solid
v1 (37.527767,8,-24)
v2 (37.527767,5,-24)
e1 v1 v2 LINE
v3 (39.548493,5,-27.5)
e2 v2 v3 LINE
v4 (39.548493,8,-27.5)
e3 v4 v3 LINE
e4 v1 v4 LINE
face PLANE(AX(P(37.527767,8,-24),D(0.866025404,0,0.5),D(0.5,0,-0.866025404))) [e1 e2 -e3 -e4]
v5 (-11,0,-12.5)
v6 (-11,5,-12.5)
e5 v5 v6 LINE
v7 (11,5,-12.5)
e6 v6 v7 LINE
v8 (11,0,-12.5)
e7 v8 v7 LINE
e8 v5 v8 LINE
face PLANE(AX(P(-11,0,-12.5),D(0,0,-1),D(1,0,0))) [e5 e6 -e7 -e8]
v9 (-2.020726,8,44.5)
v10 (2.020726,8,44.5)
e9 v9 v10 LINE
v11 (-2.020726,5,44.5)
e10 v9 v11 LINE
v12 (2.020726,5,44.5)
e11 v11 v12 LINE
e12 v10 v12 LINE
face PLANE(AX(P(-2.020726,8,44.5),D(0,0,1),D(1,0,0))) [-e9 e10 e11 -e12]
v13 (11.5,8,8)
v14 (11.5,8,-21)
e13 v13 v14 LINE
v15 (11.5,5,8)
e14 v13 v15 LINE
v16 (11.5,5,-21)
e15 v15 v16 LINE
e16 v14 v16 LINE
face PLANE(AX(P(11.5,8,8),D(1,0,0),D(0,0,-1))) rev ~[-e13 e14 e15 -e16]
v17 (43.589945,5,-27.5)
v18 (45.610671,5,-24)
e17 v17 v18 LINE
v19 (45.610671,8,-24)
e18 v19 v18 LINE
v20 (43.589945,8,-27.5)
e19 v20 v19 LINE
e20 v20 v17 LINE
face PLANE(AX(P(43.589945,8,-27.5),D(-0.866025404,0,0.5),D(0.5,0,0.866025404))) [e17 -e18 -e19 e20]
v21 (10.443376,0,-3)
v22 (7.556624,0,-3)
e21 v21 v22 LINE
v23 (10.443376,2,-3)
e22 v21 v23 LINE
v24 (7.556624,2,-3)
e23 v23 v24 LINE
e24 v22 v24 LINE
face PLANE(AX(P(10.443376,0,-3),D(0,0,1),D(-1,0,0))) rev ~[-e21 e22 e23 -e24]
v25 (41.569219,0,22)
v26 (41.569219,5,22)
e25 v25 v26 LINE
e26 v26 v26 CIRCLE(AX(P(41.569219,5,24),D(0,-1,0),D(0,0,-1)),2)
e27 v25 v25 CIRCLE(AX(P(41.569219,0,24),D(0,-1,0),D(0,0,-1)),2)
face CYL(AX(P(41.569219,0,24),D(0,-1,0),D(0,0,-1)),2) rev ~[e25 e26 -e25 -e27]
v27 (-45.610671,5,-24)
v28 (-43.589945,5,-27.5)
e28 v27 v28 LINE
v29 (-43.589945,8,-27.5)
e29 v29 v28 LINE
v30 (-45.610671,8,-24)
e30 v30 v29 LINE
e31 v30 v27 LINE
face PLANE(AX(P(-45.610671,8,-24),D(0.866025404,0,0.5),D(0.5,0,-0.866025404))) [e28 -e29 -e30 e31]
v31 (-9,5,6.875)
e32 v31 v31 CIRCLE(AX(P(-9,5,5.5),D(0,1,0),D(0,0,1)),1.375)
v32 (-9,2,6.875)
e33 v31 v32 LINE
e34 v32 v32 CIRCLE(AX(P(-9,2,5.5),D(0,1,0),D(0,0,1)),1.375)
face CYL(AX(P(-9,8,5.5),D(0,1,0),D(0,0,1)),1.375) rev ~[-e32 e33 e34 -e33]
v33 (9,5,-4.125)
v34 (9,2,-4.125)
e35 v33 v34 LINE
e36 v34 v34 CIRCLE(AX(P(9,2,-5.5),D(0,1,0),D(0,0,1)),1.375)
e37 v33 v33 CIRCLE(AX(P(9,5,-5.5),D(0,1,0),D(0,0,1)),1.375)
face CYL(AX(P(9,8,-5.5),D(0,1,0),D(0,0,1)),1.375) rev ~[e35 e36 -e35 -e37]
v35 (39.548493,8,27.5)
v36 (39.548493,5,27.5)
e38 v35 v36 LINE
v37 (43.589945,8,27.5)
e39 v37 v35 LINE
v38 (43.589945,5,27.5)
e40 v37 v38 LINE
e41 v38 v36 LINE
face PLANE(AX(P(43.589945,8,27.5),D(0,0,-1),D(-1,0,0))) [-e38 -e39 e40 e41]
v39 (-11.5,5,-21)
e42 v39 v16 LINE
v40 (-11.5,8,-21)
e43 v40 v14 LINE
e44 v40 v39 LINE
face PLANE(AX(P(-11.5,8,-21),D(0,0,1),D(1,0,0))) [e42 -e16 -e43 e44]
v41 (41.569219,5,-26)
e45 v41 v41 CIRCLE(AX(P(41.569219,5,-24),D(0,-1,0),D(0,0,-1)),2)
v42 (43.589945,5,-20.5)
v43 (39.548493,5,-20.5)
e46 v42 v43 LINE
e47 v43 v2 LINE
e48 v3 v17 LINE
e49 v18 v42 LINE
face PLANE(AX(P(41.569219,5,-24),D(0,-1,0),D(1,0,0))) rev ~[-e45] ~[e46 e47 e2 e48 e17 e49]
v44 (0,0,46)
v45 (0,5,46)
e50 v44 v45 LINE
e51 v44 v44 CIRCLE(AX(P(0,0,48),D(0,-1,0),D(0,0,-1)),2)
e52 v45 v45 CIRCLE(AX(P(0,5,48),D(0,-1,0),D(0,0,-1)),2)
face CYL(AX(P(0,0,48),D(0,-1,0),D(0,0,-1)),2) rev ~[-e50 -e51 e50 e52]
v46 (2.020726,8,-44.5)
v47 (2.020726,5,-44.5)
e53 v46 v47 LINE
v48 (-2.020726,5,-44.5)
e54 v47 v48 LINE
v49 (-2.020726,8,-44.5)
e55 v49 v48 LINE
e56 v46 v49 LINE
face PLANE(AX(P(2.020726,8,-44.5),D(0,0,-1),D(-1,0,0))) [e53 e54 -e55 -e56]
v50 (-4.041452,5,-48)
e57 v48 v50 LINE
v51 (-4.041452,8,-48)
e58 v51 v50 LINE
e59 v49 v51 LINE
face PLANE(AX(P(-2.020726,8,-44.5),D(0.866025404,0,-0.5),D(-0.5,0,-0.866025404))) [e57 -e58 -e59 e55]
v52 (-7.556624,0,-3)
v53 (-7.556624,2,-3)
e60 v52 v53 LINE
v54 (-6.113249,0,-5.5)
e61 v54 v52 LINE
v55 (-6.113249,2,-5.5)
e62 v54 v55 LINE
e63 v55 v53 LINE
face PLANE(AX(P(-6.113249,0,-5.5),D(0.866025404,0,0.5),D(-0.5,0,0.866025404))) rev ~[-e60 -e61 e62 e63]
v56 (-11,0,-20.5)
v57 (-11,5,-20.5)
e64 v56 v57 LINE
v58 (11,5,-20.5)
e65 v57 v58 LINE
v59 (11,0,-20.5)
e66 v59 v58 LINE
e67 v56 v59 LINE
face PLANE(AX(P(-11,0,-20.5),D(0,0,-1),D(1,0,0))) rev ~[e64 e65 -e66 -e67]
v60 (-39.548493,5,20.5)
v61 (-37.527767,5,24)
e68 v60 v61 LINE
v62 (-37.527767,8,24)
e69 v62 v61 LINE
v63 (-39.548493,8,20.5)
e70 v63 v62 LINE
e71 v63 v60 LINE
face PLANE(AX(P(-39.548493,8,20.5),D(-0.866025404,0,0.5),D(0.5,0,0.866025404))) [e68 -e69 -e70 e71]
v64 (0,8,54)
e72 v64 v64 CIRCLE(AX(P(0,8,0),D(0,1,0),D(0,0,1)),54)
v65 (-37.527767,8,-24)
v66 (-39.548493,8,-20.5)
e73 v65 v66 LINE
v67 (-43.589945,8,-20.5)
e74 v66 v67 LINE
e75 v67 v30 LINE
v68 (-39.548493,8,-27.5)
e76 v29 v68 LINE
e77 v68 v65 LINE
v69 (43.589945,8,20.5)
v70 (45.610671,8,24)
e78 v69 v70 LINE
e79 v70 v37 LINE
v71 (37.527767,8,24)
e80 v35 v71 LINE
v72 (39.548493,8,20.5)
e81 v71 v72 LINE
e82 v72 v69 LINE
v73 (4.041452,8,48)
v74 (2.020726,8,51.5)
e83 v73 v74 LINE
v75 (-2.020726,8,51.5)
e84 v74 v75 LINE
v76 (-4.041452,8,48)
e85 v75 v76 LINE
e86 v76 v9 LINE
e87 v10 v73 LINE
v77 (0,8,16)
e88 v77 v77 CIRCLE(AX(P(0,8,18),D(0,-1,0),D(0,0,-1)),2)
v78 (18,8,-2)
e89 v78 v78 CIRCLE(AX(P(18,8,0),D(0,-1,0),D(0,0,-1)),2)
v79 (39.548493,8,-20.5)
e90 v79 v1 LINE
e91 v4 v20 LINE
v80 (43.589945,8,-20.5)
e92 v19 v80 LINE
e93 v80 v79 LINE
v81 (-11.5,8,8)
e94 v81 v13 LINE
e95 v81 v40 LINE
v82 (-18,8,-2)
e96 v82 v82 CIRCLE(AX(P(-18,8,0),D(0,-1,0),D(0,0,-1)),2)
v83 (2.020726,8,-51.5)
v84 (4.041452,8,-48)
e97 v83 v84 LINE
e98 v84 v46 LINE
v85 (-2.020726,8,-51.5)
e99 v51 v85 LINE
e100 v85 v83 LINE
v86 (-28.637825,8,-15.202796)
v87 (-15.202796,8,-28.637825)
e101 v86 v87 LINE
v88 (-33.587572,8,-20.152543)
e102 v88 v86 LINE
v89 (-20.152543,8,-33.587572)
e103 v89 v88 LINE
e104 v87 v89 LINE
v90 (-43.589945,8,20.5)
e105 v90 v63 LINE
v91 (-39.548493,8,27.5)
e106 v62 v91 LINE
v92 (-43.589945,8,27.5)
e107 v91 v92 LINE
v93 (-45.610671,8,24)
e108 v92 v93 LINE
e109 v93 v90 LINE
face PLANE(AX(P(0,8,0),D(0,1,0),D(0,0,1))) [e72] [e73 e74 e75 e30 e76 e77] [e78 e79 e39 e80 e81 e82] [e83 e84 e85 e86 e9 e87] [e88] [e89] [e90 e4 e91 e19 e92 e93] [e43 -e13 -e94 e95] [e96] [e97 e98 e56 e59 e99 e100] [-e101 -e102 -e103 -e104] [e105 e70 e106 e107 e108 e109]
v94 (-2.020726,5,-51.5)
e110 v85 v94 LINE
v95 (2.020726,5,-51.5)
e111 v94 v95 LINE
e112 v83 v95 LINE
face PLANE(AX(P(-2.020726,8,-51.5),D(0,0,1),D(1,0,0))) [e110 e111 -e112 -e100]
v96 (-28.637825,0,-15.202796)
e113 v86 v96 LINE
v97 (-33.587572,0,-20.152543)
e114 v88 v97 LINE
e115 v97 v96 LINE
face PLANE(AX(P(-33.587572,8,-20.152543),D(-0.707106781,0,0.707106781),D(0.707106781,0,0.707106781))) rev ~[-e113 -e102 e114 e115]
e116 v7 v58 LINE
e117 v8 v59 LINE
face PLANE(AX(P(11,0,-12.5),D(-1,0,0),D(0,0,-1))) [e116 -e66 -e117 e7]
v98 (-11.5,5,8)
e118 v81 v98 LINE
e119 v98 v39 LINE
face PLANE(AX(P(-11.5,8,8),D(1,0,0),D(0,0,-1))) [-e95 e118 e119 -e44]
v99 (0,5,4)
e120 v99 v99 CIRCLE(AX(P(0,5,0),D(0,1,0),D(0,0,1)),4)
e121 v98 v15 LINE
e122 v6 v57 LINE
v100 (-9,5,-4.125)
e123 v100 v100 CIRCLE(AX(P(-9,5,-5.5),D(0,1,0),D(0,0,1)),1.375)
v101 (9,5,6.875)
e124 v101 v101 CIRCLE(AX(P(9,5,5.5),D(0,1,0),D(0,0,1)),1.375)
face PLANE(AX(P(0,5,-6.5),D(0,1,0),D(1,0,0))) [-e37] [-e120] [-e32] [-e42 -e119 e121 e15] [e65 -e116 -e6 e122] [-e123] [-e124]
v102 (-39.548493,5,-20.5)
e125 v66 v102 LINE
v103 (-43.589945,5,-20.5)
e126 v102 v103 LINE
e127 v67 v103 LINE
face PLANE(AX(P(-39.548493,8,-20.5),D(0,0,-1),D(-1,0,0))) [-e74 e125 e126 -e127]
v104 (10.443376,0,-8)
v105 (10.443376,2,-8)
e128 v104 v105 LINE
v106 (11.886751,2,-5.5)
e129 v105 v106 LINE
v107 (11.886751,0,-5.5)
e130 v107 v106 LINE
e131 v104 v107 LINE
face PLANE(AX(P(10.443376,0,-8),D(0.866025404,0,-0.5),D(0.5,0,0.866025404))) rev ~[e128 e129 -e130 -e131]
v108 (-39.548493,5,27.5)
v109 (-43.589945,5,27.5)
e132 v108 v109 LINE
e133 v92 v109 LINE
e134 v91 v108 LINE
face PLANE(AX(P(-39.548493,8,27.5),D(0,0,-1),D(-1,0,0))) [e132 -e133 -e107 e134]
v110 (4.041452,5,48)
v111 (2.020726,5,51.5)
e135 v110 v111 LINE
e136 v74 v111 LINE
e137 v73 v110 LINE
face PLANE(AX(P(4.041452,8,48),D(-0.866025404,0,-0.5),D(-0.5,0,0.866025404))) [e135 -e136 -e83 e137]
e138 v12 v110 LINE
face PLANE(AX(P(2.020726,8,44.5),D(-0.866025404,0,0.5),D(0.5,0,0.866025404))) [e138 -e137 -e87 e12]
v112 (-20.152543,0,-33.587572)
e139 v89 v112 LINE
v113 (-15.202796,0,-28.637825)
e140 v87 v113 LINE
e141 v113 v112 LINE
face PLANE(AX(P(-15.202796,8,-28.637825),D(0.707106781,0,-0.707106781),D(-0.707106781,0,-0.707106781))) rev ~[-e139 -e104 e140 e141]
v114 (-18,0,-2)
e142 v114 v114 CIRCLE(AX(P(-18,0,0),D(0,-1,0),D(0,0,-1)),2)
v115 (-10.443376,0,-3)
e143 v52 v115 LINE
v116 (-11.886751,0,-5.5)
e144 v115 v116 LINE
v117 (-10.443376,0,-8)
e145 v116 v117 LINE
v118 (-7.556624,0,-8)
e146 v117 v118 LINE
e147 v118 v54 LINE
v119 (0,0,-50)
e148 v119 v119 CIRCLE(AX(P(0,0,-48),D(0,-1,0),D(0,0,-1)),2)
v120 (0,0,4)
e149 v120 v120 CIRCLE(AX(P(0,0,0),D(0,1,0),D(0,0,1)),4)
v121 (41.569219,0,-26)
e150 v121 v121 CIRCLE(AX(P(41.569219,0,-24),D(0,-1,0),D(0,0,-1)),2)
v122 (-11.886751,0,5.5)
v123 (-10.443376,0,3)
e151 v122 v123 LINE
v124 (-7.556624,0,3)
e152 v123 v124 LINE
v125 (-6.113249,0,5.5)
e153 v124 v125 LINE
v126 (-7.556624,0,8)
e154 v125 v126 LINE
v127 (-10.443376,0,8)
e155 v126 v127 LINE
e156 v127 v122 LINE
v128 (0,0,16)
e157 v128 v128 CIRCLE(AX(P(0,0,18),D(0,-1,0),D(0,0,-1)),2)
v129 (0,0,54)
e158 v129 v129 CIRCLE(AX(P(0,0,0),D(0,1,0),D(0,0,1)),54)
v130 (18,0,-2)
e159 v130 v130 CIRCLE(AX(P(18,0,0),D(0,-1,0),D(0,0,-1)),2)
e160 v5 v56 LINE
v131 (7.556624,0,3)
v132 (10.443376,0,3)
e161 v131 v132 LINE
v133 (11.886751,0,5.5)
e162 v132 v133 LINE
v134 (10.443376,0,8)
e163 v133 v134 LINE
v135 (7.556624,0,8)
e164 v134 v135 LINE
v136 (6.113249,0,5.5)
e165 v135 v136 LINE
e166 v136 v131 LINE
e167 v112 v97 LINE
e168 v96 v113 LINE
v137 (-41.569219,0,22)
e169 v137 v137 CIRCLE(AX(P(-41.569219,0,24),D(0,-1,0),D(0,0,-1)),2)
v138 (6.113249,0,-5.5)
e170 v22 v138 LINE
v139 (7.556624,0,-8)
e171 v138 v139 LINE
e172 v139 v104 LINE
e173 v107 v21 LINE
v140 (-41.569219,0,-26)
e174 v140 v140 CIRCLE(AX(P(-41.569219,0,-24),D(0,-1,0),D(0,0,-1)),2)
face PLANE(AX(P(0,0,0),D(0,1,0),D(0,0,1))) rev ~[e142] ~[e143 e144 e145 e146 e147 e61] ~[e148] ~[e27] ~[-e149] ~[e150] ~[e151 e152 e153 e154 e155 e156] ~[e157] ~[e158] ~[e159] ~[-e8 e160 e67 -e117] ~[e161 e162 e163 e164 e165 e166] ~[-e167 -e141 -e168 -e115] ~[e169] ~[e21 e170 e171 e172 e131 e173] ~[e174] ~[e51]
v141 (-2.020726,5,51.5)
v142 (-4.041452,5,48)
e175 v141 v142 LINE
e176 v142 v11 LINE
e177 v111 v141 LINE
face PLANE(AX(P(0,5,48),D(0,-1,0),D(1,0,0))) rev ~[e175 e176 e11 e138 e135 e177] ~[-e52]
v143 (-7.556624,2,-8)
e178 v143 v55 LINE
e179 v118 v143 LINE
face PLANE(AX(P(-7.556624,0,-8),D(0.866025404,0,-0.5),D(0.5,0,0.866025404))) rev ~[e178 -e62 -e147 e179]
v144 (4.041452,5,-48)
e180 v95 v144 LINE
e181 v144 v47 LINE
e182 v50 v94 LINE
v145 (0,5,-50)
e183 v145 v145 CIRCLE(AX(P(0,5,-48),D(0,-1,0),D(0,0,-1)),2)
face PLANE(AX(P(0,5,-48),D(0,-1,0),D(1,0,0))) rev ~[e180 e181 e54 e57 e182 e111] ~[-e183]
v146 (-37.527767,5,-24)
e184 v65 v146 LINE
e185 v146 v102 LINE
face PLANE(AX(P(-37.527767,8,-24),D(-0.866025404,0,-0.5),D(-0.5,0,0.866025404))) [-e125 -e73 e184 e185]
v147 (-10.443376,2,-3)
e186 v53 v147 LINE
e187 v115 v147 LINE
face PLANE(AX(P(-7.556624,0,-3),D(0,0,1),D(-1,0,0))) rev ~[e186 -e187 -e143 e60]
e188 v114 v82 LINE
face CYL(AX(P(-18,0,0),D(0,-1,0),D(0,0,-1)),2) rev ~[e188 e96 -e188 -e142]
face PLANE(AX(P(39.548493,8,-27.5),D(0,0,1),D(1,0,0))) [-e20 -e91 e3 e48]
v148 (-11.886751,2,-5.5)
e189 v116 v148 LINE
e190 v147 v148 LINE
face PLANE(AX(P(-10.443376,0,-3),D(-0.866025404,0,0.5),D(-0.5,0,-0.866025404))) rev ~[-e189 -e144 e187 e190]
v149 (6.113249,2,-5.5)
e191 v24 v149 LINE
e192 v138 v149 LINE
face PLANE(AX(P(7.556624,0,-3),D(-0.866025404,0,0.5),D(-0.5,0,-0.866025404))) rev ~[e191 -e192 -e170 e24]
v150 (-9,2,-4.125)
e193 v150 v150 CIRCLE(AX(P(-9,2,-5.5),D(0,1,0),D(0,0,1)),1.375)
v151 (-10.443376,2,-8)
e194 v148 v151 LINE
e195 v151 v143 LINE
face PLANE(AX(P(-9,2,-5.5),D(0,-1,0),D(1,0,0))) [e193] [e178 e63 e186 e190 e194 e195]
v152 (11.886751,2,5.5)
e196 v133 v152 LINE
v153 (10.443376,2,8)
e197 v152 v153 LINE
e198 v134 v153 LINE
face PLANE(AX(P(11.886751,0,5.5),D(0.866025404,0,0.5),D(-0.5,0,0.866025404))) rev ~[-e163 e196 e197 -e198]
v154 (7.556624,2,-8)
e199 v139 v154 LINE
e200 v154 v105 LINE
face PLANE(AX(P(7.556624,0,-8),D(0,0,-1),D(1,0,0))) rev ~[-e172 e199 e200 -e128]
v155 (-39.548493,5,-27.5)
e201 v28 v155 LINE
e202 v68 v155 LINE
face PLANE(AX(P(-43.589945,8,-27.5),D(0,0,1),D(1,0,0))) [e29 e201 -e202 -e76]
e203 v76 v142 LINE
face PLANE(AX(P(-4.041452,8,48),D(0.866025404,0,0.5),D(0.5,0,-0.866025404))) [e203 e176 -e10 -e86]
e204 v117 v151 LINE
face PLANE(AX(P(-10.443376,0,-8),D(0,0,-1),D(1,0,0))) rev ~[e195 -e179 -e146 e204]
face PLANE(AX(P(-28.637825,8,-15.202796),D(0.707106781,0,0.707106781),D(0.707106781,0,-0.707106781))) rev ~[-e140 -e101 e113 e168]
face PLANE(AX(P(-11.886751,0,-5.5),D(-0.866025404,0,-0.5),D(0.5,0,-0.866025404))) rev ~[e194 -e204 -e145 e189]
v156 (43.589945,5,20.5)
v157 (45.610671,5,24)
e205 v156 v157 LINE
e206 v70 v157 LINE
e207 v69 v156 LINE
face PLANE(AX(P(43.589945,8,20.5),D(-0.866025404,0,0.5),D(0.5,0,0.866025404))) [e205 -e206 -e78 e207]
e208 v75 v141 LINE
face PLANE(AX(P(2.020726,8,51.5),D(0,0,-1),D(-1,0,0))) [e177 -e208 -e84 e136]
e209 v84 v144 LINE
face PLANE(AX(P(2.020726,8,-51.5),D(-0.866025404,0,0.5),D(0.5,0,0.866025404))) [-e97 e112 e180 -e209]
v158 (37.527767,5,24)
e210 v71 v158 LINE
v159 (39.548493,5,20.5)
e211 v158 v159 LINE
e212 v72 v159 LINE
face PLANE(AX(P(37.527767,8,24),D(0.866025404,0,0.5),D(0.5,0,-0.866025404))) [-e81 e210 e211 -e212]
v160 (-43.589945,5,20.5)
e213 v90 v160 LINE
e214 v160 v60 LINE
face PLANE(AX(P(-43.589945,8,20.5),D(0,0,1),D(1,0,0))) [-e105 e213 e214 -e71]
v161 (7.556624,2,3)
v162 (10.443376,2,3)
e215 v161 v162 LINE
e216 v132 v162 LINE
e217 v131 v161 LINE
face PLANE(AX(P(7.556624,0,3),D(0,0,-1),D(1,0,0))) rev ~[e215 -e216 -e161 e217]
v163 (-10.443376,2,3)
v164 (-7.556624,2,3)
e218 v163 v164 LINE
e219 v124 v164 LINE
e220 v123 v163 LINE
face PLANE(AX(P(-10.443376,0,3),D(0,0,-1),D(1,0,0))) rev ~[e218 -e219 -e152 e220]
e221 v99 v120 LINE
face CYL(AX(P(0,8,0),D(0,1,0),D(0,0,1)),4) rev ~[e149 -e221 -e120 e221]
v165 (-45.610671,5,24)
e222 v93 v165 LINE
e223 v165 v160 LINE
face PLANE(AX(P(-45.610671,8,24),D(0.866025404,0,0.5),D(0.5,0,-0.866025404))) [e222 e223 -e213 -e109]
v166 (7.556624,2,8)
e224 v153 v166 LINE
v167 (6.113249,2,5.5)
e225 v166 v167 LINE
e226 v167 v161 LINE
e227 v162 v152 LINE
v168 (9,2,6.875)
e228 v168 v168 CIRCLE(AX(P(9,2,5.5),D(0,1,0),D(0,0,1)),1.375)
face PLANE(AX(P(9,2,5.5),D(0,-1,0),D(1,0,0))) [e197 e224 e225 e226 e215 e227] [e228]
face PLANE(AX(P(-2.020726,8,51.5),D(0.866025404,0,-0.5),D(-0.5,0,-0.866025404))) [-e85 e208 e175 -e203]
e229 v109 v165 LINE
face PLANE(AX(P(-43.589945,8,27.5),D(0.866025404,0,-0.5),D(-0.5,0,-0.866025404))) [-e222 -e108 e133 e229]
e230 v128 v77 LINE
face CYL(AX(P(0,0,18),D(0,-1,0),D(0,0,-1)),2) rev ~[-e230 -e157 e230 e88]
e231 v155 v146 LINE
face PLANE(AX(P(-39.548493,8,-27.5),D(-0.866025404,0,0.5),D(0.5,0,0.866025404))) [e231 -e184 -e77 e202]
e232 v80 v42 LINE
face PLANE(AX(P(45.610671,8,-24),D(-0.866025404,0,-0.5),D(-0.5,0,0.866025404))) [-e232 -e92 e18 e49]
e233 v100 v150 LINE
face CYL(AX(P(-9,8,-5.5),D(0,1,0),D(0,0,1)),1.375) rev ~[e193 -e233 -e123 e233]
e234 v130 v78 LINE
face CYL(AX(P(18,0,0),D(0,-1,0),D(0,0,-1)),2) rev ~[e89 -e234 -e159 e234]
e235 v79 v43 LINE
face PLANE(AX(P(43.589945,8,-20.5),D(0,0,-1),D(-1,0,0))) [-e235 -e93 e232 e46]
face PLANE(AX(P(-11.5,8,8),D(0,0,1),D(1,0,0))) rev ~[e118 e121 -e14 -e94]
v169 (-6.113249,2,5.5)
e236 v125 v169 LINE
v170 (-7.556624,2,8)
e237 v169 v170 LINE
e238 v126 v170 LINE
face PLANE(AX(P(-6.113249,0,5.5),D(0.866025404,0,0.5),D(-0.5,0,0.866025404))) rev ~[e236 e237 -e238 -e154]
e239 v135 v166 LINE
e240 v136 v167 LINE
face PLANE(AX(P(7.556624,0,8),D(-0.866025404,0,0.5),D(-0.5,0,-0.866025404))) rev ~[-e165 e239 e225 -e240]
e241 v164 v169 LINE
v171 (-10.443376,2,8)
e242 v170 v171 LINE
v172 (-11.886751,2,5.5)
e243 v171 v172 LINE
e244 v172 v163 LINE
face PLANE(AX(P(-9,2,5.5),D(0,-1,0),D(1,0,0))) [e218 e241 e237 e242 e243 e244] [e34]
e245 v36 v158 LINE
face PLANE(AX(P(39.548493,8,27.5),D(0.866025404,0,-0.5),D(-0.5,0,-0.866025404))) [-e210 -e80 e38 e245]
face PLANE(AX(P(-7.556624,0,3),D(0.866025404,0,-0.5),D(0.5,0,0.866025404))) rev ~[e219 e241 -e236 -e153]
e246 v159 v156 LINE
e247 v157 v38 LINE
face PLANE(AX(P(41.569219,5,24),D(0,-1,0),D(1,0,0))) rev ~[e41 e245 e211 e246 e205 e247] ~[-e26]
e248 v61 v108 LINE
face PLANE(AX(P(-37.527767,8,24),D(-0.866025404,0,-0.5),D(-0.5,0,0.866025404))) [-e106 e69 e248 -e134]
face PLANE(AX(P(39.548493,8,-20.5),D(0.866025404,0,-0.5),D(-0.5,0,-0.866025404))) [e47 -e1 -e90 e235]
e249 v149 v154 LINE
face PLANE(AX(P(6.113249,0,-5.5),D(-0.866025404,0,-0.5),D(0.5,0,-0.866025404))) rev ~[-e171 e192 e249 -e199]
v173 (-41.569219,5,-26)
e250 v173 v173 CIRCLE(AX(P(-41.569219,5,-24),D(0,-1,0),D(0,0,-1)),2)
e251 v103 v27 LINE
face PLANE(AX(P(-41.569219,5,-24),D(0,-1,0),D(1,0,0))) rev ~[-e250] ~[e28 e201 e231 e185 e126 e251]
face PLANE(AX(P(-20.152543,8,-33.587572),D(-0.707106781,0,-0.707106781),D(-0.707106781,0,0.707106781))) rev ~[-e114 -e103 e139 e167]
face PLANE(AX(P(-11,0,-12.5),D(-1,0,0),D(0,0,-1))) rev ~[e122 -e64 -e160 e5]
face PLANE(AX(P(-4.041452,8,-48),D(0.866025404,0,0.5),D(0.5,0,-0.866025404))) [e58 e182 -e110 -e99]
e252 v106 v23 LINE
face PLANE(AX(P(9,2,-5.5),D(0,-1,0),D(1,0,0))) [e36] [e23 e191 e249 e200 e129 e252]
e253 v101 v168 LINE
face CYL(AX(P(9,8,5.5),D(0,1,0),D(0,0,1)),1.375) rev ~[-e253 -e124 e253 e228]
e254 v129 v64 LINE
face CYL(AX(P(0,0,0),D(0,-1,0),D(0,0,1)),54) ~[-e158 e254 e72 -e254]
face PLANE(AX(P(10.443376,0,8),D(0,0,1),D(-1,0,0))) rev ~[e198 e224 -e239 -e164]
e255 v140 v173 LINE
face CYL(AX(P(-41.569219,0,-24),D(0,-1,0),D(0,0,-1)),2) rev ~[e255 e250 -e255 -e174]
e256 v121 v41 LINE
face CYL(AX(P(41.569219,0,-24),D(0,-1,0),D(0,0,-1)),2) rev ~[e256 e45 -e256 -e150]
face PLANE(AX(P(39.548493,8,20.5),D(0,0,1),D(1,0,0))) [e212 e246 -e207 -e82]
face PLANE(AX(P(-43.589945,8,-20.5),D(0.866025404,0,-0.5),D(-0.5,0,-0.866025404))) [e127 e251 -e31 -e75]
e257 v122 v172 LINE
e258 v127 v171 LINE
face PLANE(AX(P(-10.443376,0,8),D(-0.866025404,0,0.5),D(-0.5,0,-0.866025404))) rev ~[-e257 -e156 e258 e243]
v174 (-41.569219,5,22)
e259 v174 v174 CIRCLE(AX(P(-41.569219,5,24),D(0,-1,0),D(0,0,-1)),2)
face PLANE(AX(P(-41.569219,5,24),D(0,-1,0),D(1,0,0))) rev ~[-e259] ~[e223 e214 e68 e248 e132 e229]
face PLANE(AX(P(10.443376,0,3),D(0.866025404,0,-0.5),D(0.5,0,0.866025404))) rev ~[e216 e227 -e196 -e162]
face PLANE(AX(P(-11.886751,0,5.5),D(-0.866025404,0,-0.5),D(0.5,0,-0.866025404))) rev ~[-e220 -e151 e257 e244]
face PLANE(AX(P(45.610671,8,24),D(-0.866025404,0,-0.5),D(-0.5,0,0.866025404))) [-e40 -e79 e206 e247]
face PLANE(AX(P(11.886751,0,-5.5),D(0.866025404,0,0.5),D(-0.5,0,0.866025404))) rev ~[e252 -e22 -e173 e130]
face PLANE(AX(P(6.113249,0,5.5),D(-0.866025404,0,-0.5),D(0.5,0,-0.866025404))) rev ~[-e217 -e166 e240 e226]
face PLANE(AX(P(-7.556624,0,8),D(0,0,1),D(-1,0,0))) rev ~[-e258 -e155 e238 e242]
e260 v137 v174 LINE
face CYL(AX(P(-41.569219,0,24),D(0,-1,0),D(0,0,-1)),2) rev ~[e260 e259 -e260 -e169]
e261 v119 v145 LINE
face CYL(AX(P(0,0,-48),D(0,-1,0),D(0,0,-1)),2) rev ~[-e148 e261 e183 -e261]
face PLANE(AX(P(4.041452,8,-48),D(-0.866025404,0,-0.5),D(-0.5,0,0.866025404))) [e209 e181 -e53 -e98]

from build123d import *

# Parameters (mm, degrees)
SKETCH1_R                       = 54
BASE_PLATE_DEPTH                = 8
HOLE_PATTERN_R                  = 2
MOTOR_MOUNT_HOLES_DEPTH         = 77.785415282
SKETCH3_R                       = 1.375
SKETCH3_R_2                     = 4
ENCODER_MOUNTING_HOLES_DEPTH    = 77.785415282
SKETCH4_W                       = 22
SKETCH4_H                       = 8
ENCODER_WIRE_PASS_THROUGH_DEPTH = 5
MOTOR_WIRE_PASS_THROUGH_DEPTH   = 77.785415282
SKETCH6_W                       = 11.998985868
SKETCH6_H                       = 14
CUT_EXTRUDE6_DEPTH              = 2
CUT_EXTRUDE7_DEPTH              = 2
CUT_EXTRUDE8_DEPTH              = 3
SKETCH10_W                      = 23
SKETCH10_H                      = 29
CUT_EXTRUDE9_DEPTH              = 3


with BuildPart() as part:
    # Sketch1 → Base Plate (new body)
    with BuildSketch(Plane(origin=(0, 0, 0), x_dir=(1, 0, 0), z_dir=(0, 1, 0))):
        with Locations(Location((0, 0, 0), (0, 0, 270))):
            Circle(SKETCH1_R)
    extrude(amount=BASE_PLATE_DEPTH)

    # Hole Pattern → Motor Mount Holes (cut, through all)
    with BuildSketch(Plane.XZ):
        with Locations(Location((0, 48, 0), (0, 0, 270))):
            Circle(HOLE_PATTERN_R)
        with Locations(Location((41.569219382, 24, 0), (0, 0, 270))):
            Circle(HOLE_PATTERN_R)
        with Locations(Location((41.569219382, -24, 0), (0, 0, 270))):
            Circle(HOLE_PATTERN_R)
        with Locations(Location((0, -48, 0), (0, 0, 270))):
            Circle(HOLE_PATTERN_R)
        with Locations(Location((-41.569219382, -24, 0), (0, 0, 270))):
            Circle(HOLE_PATTERN_R)
        with Locations(Location((-41.569219382, 24, 0), (0, 0, 270))):
            Circle(HOLE_PATTERN_R)
        with Locations(Location((0, 18, 0), (0, 0, 270))):
            Circle(HOLE_PATTERN_R)
        with Locations(Location((18, 0, 0), (0, 0, 270))):
            Circle(HOLE_PATTERN_R)
        with Locations(Location((-18, 0, 0), (0, 0, 270))):
            Circle(HOLE_PATTERN_R)
    extrude(amount=-MOTOR_MOUNT_HOLES_DEPTH, mode=Mode.SUBTRACT)

    # Sketch3 → Encoder mounting holes (cut, through all)
    with BuildSketch(Plane(origin=(0, 8, 0), x_dir=(1, 0, 0), z_dir=(0, 1, 0))):
        with Locations(Location((-9, 5.5, 0), (0, 0, 270))):
            Circle(SKETCH3_R)
        with Locations(Location((9, 5.5, 0), (0, 0, 270))):
            Circle(SKETCH3_R)
        with Locations(Location((9, -5.5, 0), (0, 0, 270))):
            Circle(SKETCH3_R)
        with Locations(Location((-9, -5.5, 0), (0, 0, 270))):
            Circle(SKETCH3_R)
        with Locations(Location((0, 0, 0), (0, 0, 270))):
            Circle(SKETCH3_R_2)
    extrude(amount=-ENCODER_MOUNTING_HOLES_DEPTH, mode=Mode.SUBTRACT)

    # Sketch4 → Encoder Wire Pass through (cut)
    with BuildSketch(Plane(origin=(0, 0, 0), x_dir=(1, 0, 0), z_dir=(0, 1, 0))):
        with Locations((0, 16.5)):
            Rectangle(SKETCH4_W, SKETCH4_H)
    extrude(amount=ENCODER_WIRE_PASS_THROUGH_DEPTH, mode=Mode.SUBTRACT)

    # Sketch5 → Motor Wire pass through (cut, through all)
    with BuildSketch(Plane(origin=(0, 8, 0), x_dir=(1, 0, 0), z_dir=(0, 1, 0))):
        Polygon((-33.587572106, 20.152543264), (-28.637824638, 15.202795796), (-15.202795796, 28.637824638), (-20.152543264, 33.587572106), align=None)
    extrude(amount=-MOTOR_WIRE_PASS_THROUGH_DEPTH, mode=Mode.SUBTRACT)

    # Sketch6 → Cut-Extrude6 (cut)
    with BuildSketch(Plane(origin=(0, 8, 0), x_dir=(1, 0, 0), z_dir=(0, 1, 0))):
        with Locations((0, 12.5)):
            Rectangle(SKETCH6_W, SKETCH6_H)
    extrude(amount=-CUT_EXTRUDE6_DEPTH, mode=Mode.SUBTRACT)

    # Sketch7 → Cut-Extrude7 (cut)
    with BuildSketch(Plane.XZ):
        Polygon((7.556624327, 3), (10.443375673, 3), (11.886751346, 5.5), (10.443375673, 8), (7.556624327, 8), (6.113248654, 5.5), align=None)
        Polygon((10.443375673, -8), (11.886751346, -5.5), (10.443375673, -3), (7.556624327, -3), (6.113248654, -5.5), (7.556624327, -8), align=None)
        Polygon((-7.556624327, -8), (-6.113248654, -5.5), (-7.556624327, -3), (-10.443375673, -3), (-11.886751346, -5.5), (-10.443375673, -8), align=None)
        Polygon((-7.556624327, 3), (-6.113248654, 5.5), (-7.556624327, 8), (-10.443375673, 8), (-11.886751346, 5.5), (-10.443375673, 3), align=None)
    extrude(amount=-CUT_EXTRUDE7_DEPTH, mode=Mode.SUBTRACT)

    # Sketch9 → Cut-Extrude8 (cut)
    with BuildSketch(Plane.XZ.offset(-8)):
        Polygon((39.548493439, -27.5), (43.589945324, -27.5), (45.610671266, -24), (43.589945324, -20.5), (39.548493439, -20.5), (37.527767497, -24), align=None)
        Polygon((-4.041451884, -48), (-2.020725942, -51.5), (2.020725942, -51.5), (4.041451884, -48), (2.020725942, -44.5), (-2.020725942, -44.5), align=None)
        Polygon((43.589945324, 20.5), (45.610671266, 24), (43.589945324, 27.5), (39.548493439, 27.5), (37.527767497, 24), (39.548493439, 20.5), align=None)
        Polygon((4.041451884, 48), (2.020725942, 51.5), (-2.020725942, 51.5), (-4.041451884, 48), (-2.020725942, 44.5), (2.020725942, 44.5), align=None)
        Polygon((-39.548493439, 27.5), (-43.589945324, 27.5), (-45.610671266, 24), (-43.589945324, 20.5), (-39.548493439, 20.5), (-37.527767497, 24), align=None)
        Polygon((-43.589945324, -20.5), (-45.610671266, -24), (-43.589945324, -27.5), (-39.548493439, -27.5), (-37.527767497, -24), (-39.548493439, -20.5), align=None)
    extrude(amount=CUT_EXTRUDE8_DEPTH, mode=Mode.SUBTRACT)

    # Sketch10 → Cut-Extrude9 (cut)
    with BuildSketch(Plane(origin=(0, 8, 0), x_dir=(1, 0, 0), z_dir=(0, 1, 0))):
        with Locations((0, 6.5)):
            Rectangle(SKETCH10_W, SKETCH10_H)
    extrude(amount=-CUT_EXTRUDE9_DEPTH, mode=Mode.SUBTRACT)


solid = part.part
